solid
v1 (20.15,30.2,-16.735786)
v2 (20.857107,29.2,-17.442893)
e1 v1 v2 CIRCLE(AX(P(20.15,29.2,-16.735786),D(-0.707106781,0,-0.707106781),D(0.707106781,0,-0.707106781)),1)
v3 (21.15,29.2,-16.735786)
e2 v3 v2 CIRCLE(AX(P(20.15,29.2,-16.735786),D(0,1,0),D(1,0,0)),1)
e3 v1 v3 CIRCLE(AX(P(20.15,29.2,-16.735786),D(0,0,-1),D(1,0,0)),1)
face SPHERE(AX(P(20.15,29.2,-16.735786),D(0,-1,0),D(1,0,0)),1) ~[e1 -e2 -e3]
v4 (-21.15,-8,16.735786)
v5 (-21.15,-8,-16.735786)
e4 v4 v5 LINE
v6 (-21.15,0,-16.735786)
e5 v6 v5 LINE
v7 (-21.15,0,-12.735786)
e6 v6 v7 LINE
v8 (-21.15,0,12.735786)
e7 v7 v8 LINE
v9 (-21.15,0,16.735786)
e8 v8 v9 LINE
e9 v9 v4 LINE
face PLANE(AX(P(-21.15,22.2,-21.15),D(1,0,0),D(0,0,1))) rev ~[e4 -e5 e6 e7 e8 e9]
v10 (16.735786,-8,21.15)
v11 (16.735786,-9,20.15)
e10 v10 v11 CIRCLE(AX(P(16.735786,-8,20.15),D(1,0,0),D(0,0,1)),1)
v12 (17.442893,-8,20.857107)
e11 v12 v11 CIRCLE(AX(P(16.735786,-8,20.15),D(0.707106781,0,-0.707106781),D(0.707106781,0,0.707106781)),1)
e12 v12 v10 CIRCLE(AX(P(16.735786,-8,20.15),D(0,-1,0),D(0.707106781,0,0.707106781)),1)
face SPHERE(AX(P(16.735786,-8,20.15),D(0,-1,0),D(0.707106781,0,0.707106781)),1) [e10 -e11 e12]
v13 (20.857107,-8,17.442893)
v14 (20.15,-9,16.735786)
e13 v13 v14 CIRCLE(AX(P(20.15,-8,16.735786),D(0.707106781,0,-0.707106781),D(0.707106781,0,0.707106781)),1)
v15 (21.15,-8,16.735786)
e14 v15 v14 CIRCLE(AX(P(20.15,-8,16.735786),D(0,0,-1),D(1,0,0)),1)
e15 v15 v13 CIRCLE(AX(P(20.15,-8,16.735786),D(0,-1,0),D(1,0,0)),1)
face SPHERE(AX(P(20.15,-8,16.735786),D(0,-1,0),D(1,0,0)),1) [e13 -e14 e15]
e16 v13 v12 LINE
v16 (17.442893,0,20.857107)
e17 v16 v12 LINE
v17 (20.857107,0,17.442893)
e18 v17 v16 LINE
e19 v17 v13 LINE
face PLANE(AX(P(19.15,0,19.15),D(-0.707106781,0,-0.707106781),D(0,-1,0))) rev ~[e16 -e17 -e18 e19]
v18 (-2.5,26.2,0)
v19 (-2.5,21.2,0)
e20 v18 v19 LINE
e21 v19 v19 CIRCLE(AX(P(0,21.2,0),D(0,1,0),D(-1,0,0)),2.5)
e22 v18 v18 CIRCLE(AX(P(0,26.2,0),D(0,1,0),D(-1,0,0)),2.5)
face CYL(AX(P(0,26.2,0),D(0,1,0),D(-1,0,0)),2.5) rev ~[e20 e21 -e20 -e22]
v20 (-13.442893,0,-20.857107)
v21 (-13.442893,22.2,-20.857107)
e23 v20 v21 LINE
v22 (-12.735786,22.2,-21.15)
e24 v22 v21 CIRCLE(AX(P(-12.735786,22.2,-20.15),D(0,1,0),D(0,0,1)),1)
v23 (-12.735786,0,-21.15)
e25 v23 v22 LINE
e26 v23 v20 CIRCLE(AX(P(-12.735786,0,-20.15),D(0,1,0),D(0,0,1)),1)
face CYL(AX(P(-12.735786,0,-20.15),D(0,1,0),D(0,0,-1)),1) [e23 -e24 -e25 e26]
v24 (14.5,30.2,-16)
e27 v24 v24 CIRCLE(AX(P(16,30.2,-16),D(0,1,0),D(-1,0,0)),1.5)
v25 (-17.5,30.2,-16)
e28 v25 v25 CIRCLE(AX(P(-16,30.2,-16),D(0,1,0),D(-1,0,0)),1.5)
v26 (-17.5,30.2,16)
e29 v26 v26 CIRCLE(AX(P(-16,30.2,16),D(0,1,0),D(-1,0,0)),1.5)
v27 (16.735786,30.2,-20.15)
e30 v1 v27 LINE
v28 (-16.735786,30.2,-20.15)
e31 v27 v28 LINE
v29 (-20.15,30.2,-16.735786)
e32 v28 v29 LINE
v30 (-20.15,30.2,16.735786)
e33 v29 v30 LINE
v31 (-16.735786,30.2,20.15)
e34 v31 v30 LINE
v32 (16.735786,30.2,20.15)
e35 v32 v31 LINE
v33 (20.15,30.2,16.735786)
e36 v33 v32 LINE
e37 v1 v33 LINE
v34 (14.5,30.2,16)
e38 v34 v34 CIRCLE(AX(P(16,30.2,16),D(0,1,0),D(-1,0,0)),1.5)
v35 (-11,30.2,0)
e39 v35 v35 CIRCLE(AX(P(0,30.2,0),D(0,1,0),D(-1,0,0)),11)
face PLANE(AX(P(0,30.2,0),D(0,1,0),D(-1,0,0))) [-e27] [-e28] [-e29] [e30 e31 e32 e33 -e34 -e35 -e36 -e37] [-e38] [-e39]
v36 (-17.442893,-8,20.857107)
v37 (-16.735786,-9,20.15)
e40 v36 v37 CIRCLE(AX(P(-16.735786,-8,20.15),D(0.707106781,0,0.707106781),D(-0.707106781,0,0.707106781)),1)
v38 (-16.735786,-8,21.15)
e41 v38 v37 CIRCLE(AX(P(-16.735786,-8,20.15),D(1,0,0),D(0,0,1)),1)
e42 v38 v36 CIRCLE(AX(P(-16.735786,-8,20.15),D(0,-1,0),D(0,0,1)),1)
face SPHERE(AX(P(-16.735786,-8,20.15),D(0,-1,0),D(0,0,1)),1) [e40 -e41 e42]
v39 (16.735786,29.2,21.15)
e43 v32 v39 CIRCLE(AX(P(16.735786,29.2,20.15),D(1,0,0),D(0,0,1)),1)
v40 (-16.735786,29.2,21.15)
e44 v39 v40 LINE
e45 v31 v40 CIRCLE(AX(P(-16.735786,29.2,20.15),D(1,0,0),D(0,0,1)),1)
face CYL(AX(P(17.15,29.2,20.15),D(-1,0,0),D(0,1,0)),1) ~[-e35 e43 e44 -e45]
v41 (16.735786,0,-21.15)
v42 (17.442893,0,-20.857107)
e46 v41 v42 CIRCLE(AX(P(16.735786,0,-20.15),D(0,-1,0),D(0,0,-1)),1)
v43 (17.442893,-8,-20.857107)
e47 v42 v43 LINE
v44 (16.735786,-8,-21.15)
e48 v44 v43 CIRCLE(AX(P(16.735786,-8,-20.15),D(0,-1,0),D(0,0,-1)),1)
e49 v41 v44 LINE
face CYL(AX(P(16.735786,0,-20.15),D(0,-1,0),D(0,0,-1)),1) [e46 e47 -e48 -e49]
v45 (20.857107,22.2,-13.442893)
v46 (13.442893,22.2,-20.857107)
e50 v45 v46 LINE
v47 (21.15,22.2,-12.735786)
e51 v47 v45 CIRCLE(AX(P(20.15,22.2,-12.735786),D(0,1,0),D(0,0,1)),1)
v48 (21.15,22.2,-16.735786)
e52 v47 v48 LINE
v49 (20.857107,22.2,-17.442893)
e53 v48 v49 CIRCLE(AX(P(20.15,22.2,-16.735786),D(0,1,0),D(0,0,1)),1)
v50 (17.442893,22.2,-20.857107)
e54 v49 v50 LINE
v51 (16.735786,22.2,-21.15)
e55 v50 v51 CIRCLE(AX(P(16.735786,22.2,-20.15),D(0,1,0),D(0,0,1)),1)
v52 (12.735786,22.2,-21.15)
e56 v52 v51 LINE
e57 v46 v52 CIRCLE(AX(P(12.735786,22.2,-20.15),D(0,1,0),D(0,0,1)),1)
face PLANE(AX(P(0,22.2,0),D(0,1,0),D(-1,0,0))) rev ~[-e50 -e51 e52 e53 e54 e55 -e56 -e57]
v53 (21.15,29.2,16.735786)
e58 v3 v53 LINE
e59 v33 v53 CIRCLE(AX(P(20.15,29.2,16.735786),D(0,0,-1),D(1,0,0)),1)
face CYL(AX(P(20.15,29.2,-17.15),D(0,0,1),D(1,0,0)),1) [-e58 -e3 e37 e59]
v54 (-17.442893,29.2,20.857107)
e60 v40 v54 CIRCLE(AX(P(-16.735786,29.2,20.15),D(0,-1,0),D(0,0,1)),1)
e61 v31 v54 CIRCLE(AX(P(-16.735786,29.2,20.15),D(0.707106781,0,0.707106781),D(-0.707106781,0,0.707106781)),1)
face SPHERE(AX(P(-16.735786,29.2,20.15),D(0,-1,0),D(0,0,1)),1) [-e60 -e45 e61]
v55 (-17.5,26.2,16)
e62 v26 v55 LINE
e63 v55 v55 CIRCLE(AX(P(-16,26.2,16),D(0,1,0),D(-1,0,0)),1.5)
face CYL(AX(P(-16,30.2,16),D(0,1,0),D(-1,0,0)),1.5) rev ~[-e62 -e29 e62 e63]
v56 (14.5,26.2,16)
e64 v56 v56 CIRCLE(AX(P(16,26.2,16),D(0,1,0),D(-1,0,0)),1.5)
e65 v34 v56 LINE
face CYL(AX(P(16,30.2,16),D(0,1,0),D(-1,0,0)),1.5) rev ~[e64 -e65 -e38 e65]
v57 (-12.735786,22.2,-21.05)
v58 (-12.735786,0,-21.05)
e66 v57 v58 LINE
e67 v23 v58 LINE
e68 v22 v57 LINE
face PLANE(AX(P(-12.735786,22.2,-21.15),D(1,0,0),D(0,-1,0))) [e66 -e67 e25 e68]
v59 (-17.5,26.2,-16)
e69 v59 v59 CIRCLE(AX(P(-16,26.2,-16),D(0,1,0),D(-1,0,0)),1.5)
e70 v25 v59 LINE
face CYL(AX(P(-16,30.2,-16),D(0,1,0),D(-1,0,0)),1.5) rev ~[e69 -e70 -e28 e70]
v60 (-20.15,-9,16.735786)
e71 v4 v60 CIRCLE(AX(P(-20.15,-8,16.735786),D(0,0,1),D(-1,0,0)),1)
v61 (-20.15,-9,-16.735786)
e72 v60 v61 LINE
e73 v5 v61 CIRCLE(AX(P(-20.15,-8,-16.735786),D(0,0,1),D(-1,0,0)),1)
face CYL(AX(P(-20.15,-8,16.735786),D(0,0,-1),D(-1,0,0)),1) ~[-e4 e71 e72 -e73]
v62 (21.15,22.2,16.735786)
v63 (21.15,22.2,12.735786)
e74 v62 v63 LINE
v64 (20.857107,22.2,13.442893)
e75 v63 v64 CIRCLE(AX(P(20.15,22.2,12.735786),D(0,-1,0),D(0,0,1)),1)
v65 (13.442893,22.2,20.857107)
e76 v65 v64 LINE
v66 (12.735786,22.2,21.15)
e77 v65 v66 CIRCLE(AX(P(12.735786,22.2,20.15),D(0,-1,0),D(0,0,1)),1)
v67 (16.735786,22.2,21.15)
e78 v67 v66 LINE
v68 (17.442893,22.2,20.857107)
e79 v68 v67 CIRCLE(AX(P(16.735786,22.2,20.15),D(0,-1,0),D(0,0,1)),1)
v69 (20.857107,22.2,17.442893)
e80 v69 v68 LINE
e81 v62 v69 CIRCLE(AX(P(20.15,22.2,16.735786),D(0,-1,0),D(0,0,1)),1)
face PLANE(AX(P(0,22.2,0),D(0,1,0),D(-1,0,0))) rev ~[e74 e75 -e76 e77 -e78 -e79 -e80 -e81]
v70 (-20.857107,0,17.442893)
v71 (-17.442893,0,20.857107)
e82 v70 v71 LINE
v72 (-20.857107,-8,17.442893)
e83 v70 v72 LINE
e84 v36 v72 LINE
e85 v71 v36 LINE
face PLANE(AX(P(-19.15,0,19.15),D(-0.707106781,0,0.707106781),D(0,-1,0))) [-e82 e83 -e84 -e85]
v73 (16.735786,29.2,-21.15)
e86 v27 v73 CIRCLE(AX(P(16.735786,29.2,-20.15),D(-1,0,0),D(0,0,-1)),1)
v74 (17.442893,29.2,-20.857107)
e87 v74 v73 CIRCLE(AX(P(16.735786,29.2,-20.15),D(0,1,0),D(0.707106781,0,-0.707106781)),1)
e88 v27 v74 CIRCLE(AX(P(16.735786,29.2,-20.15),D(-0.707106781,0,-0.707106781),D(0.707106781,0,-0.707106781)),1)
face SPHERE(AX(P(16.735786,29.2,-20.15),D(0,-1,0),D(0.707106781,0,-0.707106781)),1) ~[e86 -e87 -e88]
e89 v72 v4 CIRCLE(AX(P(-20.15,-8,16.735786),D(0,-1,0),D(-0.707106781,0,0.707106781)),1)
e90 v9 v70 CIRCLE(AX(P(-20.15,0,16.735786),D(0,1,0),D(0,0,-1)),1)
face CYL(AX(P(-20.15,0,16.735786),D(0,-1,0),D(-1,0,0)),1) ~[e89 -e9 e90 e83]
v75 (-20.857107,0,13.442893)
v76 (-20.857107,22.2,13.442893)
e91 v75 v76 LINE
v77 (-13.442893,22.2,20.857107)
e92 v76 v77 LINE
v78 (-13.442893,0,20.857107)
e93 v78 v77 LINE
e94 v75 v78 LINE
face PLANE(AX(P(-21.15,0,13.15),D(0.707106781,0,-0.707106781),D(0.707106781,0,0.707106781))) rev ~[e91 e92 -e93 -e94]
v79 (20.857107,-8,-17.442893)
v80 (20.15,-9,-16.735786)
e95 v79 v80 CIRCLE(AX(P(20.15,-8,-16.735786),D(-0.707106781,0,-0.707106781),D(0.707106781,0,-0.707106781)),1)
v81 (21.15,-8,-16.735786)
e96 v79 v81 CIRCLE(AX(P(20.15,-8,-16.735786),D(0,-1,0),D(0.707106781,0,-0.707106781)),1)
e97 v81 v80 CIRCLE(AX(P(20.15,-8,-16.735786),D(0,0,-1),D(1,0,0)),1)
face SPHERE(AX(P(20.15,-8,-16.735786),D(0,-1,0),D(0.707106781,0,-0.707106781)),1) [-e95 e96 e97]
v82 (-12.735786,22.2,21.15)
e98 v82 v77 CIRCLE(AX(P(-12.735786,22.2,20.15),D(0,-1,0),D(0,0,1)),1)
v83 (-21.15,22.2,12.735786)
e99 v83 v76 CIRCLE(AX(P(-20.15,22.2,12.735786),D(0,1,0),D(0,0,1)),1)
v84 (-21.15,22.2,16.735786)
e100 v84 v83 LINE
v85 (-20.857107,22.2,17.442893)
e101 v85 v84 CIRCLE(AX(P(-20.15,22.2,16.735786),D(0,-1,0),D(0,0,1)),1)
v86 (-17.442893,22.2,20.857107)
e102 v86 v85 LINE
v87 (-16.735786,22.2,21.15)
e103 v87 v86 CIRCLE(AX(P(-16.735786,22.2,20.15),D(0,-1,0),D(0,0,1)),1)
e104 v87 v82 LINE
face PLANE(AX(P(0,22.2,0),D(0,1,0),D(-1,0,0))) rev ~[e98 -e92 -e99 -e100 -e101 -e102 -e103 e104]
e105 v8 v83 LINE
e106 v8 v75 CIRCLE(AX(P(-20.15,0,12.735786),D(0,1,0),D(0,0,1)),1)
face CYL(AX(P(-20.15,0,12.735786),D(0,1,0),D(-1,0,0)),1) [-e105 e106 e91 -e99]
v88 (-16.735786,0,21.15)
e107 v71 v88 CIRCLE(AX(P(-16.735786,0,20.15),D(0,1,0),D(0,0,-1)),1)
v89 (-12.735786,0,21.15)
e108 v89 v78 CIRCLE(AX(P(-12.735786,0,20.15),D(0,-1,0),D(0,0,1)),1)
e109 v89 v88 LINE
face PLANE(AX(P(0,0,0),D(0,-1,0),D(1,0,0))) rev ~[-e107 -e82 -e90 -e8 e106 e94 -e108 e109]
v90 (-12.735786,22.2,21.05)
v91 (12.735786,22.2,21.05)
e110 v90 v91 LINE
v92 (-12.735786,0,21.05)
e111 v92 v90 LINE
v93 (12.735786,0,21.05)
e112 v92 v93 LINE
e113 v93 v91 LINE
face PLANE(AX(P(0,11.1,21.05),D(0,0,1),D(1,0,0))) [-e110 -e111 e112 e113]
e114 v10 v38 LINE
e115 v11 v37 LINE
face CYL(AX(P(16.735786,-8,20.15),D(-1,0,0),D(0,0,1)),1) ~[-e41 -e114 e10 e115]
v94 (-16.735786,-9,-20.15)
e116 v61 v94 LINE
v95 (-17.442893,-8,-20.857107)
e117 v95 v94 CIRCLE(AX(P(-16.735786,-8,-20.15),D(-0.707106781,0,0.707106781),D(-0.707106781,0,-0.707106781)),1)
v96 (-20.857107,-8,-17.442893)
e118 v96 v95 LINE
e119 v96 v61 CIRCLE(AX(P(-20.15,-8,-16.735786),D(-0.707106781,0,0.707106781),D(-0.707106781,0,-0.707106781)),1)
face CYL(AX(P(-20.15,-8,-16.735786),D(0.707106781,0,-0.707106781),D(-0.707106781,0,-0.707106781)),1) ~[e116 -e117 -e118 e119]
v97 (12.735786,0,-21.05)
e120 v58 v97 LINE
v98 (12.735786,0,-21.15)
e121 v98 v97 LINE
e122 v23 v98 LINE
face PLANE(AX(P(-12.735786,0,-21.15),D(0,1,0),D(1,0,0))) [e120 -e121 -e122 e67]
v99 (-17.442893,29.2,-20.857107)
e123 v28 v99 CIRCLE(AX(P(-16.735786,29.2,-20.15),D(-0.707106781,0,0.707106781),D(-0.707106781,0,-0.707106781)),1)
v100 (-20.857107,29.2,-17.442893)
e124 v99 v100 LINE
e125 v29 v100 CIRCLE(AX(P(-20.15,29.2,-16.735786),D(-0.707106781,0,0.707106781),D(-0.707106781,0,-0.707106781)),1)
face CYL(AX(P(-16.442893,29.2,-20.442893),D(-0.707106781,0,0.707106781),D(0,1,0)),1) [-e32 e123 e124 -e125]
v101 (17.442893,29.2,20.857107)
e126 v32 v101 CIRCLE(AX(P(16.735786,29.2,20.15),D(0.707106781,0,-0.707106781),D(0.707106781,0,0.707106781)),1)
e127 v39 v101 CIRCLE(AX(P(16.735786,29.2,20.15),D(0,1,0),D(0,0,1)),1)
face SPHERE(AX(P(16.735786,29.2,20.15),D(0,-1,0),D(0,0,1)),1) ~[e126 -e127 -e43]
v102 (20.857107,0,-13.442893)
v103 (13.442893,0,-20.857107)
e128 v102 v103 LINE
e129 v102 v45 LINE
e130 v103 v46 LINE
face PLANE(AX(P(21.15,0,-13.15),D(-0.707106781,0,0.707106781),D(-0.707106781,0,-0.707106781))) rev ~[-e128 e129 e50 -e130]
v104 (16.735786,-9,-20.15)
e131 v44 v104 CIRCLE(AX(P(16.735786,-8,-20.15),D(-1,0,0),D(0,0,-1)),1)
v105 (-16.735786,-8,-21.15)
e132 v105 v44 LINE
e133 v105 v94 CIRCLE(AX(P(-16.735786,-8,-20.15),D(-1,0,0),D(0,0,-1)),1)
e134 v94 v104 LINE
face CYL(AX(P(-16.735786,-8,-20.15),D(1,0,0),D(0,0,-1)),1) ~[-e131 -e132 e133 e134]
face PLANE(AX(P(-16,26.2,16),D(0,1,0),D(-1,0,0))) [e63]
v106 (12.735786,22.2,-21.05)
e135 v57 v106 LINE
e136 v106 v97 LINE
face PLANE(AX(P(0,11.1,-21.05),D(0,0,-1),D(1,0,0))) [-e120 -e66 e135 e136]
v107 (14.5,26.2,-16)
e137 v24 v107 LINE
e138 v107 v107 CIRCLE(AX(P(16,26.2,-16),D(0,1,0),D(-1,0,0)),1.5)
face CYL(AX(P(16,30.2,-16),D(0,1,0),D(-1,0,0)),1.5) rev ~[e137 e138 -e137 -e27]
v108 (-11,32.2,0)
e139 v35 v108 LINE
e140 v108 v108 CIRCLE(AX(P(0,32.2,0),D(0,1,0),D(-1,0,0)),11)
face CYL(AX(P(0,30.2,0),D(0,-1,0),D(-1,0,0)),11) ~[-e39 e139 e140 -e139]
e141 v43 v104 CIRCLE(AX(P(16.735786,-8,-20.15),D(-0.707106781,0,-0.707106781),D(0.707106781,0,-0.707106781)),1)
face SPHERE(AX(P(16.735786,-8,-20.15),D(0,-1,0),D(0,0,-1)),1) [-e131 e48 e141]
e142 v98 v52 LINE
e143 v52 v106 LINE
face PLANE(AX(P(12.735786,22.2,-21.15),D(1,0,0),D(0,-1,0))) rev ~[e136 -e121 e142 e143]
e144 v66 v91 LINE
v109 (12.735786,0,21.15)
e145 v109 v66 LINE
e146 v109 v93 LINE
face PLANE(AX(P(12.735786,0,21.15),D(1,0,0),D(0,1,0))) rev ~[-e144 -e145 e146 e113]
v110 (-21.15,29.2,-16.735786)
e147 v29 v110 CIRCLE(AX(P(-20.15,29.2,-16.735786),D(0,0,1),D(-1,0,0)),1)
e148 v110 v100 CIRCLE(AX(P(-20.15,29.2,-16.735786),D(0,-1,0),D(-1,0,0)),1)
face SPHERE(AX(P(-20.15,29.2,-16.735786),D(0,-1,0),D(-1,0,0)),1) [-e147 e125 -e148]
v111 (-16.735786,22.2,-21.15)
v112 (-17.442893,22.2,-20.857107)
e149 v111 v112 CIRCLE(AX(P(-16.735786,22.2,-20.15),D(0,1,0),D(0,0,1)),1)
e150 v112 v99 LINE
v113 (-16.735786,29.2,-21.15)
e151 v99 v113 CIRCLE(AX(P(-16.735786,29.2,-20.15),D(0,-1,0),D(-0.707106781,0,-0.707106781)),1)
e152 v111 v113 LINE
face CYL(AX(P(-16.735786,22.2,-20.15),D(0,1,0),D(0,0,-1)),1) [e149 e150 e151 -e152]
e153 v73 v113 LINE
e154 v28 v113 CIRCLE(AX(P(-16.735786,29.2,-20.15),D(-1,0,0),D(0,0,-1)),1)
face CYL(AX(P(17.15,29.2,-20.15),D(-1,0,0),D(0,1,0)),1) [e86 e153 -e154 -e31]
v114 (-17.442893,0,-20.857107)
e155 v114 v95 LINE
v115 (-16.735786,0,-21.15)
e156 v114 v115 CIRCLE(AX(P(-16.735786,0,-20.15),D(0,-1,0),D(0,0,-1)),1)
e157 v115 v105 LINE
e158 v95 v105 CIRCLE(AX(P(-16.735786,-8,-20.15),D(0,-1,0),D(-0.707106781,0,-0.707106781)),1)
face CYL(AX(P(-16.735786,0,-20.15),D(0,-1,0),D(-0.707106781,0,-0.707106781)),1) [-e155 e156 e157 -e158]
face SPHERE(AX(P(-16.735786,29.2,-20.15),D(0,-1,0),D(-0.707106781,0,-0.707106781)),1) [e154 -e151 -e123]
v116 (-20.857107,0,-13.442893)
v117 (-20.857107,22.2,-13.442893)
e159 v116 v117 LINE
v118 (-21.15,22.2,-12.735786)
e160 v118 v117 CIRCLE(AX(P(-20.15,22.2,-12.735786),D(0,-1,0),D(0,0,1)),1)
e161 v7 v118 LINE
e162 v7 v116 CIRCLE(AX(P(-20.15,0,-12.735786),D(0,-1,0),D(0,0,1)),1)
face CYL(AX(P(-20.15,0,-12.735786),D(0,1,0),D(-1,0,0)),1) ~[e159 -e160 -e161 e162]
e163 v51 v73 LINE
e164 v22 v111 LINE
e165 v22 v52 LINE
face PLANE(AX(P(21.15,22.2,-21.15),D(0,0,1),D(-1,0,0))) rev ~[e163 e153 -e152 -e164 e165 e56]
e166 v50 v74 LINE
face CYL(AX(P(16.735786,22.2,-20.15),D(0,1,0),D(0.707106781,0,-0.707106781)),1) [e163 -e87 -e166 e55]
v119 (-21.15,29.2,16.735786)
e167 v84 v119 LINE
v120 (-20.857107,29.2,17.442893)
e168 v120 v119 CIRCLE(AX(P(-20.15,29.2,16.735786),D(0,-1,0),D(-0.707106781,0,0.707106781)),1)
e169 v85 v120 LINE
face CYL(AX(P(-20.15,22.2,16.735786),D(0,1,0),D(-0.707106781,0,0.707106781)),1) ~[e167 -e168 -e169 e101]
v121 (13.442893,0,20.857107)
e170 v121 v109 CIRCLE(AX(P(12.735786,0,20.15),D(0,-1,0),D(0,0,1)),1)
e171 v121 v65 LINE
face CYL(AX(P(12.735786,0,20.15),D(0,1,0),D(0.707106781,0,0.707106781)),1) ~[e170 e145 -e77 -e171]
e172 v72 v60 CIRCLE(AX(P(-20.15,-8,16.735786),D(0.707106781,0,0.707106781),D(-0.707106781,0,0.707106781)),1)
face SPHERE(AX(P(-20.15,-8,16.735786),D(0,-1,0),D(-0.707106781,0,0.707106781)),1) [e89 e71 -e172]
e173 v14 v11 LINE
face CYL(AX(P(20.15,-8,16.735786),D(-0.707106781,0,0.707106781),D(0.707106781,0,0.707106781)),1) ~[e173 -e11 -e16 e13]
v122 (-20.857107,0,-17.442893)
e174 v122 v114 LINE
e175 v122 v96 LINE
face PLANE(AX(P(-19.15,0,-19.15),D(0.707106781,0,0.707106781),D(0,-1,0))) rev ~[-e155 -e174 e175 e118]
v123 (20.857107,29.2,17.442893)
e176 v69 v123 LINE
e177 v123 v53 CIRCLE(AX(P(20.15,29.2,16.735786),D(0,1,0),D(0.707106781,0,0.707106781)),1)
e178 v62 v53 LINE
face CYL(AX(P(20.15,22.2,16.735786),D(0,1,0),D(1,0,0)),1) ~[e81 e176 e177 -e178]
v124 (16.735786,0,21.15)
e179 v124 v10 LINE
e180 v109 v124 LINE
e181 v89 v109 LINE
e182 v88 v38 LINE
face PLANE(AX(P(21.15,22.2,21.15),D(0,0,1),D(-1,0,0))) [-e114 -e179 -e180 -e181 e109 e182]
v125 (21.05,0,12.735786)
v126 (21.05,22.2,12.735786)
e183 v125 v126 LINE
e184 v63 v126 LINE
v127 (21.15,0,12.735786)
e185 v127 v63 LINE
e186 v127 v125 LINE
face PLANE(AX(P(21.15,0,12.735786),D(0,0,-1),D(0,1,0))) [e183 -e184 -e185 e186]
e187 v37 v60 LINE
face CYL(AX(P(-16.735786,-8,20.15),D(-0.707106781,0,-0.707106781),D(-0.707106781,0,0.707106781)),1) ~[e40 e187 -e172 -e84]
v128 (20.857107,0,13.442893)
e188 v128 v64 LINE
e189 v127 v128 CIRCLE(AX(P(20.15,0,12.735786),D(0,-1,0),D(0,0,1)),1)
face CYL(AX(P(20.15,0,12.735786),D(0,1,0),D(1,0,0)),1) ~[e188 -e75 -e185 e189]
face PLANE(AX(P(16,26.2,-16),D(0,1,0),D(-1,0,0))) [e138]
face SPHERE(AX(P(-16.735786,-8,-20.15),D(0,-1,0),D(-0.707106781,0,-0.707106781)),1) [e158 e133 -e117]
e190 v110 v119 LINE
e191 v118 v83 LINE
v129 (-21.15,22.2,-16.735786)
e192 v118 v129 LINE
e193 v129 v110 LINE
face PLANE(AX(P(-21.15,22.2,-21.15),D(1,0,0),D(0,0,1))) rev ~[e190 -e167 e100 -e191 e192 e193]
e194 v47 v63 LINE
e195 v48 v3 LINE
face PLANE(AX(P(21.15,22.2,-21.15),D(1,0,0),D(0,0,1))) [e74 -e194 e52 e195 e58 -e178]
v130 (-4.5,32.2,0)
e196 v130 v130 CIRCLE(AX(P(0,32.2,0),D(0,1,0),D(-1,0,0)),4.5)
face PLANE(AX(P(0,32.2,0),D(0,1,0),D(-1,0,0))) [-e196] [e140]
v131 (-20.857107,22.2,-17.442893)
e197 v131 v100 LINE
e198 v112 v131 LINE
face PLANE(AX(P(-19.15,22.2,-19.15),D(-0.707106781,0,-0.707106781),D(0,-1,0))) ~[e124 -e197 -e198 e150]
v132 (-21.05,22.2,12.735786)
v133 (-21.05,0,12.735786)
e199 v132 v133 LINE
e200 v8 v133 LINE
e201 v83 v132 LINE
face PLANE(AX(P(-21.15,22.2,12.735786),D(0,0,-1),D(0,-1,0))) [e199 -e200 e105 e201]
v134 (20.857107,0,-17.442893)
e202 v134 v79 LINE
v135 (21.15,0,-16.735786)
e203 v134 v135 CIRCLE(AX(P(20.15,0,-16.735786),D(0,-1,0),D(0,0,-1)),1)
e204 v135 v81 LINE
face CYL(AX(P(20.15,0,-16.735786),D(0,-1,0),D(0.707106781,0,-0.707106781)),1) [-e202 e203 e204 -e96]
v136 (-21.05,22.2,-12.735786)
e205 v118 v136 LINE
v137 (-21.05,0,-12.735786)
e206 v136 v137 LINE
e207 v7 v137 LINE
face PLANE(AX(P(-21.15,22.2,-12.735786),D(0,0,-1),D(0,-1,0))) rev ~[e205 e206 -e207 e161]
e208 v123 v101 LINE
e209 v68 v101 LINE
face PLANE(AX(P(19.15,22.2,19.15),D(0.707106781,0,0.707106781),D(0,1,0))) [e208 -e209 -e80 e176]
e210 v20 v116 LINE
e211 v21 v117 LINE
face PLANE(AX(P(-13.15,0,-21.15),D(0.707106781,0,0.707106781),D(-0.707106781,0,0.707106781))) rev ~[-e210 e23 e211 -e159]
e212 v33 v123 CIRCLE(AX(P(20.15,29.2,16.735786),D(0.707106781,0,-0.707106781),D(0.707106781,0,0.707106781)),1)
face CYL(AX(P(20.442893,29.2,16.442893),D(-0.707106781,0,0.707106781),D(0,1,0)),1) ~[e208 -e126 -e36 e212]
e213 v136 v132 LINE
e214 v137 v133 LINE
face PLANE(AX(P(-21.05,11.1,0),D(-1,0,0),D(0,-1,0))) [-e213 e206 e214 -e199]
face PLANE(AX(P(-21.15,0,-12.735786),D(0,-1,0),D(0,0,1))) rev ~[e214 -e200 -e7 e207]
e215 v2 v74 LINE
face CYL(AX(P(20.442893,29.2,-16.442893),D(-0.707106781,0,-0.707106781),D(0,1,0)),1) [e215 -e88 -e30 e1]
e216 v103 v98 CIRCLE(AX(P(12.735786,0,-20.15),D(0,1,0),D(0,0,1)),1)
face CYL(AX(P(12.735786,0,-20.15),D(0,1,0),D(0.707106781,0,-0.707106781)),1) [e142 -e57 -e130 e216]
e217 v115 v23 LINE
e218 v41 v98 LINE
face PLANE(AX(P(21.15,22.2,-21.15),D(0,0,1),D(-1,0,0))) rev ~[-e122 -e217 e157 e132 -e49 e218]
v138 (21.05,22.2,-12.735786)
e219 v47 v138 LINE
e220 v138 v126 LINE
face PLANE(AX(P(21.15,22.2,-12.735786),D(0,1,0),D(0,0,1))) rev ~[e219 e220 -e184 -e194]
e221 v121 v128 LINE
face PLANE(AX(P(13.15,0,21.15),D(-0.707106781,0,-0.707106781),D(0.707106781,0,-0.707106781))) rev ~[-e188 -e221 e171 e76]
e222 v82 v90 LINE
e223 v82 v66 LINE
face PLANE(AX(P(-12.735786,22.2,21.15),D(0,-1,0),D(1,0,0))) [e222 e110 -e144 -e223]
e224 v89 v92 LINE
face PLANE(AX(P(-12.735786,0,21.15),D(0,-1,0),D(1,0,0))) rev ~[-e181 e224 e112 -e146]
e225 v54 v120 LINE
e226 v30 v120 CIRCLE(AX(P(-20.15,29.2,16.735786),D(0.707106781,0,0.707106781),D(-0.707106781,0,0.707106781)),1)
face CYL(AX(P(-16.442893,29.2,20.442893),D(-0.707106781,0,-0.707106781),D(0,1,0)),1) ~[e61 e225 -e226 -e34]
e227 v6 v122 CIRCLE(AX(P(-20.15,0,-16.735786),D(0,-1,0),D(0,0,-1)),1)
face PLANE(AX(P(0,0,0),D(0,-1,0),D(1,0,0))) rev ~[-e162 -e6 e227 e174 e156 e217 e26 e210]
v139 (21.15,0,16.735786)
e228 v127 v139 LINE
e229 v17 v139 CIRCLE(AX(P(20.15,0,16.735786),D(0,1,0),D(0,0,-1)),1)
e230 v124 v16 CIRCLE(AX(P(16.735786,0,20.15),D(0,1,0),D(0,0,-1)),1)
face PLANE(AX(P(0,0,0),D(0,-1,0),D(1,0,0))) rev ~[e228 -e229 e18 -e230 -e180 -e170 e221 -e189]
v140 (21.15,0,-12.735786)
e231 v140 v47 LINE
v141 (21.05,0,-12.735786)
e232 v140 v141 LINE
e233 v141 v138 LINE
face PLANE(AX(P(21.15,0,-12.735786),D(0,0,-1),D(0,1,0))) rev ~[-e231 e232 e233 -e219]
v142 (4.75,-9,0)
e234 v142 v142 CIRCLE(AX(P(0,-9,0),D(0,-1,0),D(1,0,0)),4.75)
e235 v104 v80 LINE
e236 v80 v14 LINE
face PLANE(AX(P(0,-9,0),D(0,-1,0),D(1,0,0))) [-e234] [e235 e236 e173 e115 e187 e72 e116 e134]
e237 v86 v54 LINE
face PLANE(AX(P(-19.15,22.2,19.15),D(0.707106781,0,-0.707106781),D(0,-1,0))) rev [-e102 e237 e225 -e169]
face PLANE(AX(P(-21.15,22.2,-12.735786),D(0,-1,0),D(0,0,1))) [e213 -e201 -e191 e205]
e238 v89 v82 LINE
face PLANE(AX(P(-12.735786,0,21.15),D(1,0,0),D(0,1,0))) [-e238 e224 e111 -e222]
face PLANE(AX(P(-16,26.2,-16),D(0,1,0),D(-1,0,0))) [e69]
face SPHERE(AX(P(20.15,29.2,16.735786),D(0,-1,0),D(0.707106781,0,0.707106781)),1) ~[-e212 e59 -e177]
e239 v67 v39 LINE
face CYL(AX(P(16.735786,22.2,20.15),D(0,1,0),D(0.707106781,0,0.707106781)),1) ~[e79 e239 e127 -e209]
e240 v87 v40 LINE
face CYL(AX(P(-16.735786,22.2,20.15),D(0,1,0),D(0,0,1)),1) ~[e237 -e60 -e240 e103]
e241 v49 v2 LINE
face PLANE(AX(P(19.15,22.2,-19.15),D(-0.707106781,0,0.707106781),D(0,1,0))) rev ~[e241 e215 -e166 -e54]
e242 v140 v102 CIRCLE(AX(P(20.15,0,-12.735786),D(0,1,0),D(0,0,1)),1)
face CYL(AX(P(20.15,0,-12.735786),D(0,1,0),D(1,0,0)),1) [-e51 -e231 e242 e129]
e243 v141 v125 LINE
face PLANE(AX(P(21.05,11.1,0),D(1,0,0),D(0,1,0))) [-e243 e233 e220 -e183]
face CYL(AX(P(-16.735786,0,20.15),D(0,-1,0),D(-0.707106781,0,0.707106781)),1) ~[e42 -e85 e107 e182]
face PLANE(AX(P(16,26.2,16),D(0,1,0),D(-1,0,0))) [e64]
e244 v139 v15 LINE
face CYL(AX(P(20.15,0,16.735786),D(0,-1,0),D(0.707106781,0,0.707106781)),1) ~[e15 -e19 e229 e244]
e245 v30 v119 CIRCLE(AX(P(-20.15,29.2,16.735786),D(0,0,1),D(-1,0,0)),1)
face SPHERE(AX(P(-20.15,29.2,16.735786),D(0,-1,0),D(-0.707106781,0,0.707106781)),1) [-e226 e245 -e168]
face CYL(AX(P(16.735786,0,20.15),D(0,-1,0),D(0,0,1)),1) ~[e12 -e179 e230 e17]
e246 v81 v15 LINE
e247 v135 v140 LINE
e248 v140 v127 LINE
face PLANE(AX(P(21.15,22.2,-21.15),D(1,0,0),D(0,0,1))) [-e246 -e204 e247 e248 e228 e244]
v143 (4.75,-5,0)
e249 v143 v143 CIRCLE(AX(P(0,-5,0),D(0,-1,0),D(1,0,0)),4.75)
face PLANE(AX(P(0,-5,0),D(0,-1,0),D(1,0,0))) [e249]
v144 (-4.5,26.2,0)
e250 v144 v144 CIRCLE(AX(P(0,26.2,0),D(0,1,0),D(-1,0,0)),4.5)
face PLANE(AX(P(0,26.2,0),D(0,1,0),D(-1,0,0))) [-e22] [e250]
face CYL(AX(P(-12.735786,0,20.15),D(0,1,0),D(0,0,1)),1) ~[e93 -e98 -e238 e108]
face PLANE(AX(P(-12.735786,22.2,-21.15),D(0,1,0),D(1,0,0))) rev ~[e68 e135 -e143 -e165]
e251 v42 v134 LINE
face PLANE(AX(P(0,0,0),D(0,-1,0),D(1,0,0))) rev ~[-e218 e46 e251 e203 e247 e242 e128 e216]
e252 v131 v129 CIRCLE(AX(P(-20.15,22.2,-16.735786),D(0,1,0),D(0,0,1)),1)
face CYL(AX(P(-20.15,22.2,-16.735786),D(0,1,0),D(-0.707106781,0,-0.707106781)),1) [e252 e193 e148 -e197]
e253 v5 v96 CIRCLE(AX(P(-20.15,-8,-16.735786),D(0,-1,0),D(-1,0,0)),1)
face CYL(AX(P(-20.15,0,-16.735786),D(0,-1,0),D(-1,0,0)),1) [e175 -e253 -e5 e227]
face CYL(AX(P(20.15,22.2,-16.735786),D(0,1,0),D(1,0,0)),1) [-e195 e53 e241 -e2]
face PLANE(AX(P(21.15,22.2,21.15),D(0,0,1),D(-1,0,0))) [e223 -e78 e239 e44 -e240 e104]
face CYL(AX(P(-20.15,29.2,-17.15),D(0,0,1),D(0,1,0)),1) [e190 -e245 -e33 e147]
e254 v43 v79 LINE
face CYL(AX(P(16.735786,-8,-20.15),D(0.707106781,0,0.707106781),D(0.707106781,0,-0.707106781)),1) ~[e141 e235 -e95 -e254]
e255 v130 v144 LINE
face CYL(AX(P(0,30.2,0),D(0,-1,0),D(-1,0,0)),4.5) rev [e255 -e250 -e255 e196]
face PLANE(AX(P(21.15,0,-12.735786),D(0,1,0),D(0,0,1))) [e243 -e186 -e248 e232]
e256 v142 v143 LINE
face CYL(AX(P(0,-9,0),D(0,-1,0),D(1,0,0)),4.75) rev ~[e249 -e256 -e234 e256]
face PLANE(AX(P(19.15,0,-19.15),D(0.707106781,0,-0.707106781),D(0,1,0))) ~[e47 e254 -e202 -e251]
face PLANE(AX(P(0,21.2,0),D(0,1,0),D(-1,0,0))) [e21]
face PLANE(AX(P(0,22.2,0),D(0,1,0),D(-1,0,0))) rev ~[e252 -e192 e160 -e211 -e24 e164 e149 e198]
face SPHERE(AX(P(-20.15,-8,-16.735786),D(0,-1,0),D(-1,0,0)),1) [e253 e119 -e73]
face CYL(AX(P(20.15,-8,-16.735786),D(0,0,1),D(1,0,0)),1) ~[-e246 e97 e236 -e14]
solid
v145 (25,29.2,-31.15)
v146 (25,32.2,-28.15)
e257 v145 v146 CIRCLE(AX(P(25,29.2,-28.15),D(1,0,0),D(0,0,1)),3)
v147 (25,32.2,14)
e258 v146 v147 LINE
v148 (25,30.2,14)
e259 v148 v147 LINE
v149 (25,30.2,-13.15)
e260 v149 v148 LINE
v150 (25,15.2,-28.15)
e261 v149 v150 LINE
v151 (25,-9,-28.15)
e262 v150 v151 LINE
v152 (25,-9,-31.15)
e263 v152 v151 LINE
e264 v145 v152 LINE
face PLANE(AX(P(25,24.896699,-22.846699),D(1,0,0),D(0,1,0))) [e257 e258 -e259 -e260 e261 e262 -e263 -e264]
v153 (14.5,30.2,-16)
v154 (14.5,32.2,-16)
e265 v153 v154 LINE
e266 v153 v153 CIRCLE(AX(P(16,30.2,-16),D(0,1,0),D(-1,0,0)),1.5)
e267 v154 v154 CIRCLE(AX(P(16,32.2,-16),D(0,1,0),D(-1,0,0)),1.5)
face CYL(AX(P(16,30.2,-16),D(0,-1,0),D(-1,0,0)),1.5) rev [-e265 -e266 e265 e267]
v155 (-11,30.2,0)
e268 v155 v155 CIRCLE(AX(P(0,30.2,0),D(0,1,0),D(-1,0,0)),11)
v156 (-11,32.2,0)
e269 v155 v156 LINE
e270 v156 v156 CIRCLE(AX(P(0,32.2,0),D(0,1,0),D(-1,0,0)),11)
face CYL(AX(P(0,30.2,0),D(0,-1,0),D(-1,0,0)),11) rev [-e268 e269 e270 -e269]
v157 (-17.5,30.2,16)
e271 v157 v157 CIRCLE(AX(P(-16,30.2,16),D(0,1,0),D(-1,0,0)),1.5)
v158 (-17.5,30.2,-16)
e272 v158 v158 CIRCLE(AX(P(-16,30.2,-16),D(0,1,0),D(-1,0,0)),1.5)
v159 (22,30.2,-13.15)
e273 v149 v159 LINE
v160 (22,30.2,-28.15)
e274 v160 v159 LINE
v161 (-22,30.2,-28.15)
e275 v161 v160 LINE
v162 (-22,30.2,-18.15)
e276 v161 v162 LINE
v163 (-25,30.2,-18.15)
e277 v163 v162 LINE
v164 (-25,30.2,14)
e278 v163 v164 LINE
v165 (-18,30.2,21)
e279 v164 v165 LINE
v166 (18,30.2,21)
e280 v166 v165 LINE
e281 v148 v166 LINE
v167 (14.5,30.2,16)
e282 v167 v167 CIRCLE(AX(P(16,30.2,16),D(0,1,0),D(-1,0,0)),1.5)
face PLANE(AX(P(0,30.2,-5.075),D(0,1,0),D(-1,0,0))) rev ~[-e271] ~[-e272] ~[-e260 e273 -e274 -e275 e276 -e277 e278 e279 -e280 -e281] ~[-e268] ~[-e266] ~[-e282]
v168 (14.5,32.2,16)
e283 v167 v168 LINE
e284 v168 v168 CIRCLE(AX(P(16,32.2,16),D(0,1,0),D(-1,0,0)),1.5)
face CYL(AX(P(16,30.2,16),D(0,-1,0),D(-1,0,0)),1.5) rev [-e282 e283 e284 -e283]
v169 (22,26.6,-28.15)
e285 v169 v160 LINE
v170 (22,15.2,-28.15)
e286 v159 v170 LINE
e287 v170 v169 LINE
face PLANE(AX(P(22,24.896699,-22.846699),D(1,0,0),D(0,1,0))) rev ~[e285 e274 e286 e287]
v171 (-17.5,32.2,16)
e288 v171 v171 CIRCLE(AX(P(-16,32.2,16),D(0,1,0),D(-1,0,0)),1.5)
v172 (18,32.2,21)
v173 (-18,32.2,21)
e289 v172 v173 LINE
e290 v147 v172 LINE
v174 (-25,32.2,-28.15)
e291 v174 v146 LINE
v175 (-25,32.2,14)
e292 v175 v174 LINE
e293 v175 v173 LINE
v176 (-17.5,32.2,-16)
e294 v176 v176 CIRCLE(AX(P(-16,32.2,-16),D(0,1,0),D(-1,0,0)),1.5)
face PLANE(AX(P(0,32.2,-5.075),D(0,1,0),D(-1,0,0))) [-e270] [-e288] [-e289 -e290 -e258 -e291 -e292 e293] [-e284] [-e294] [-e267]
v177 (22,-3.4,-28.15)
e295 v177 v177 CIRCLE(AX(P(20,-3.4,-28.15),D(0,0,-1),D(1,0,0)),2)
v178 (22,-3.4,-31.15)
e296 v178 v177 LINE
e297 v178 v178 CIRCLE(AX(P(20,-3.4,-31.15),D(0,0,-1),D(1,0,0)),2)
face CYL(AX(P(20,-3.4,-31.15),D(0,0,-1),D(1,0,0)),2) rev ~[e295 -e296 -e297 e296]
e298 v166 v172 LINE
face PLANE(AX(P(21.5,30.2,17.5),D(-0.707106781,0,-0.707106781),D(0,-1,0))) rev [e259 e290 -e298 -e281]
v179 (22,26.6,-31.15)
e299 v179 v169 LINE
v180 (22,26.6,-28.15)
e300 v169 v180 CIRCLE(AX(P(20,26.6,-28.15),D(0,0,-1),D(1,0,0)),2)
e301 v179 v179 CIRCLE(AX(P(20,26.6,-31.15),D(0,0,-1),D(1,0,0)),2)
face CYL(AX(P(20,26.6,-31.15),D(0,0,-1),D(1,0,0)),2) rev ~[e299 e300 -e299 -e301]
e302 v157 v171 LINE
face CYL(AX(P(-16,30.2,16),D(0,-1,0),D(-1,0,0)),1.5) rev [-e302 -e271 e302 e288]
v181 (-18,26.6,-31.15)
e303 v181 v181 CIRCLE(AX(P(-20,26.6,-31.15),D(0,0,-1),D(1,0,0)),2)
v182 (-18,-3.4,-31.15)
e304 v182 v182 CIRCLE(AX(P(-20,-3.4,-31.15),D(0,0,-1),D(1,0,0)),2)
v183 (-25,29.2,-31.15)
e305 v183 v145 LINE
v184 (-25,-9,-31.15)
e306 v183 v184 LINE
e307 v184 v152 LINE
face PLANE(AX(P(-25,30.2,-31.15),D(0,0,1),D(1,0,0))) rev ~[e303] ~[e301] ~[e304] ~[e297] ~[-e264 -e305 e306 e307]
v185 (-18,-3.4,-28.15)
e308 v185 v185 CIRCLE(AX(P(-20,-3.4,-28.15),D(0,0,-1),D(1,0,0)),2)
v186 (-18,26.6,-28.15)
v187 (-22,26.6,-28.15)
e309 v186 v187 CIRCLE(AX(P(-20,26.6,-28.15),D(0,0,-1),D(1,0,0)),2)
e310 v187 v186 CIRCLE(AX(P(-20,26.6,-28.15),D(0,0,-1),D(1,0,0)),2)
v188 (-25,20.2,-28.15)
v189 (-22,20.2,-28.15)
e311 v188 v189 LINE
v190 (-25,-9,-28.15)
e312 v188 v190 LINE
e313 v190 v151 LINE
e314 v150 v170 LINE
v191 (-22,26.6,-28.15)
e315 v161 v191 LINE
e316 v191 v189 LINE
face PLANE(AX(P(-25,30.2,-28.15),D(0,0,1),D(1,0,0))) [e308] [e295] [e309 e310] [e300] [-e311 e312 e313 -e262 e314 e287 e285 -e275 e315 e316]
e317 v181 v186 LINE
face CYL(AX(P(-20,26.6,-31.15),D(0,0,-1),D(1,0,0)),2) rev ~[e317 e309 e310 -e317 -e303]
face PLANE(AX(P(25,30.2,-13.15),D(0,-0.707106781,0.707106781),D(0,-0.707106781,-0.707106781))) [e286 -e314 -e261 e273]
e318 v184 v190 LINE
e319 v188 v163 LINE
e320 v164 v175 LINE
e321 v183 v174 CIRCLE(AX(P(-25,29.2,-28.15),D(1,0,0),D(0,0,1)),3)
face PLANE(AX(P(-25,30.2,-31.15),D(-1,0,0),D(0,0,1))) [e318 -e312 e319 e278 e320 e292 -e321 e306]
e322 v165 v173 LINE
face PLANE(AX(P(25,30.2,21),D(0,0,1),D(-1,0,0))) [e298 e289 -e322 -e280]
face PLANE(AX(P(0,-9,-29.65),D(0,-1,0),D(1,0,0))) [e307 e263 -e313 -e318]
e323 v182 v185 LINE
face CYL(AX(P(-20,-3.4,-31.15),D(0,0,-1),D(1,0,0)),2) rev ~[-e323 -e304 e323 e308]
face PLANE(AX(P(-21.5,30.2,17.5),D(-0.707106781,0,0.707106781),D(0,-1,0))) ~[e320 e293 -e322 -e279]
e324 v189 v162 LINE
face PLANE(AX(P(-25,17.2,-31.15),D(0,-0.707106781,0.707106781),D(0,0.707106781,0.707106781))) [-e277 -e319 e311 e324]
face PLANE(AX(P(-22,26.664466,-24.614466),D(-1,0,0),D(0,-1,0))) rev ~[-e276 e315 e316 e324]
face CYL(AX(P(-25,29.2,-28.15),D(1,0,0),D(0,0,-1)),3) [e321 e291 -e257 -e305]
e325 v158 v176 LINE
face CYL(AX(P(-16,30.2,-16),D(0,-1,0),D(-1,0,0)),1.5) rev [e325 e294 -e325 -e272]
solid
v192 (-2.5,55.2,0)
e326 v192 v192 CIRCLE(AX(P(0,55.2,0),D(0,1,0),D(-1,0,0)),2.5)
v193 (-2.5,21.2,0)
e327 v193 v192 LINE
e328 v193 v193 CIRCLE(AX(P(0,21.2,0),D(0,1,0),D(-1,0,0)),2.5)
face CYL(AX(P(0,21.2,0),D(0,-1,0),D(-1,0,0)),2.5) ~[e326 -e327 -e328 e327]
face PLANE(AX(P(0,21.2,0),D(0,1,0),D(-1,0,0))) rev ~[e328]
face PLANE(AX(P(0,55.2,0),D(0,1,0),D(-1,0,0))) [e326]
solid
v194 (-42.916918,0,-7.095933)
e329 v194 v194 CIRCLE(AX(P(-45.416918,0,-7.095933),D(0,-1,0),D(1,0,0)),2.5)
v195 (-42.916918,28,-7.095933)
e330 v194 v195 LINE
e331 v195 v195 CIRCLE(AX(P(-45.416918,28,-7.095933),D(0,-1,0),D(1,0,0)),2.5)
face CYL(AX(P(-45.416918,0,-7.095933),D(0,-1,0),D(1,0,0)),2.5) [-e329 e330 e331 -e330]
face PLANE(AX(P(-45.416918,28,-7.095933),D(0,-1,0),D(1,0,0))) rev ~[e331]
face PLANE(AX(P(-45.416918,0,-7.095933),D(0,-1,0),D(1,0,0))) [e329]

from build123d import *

# Parameters (mm, degrees)
F0_W      = 42.3
F0_H      = 42.3
F1_DEPTH  = 9
F3_SIZE   = 4
F4_R      = 1
F5_DEPTH  = 22.2
F6_W      = 42.3
F6_H      = 42.3
F7_DEPTH  = 8
F8_SIZE   = 4
F9_R      = 1
F10_W     = 22.2
F10_H     = 25.4715728753
F11_DEPTH = 0.1
F12_W     = 25.4715728753
F12_H     = 22.2
F13_DEPTH = 0.1
F14_W     = 22.2
F14_H     = 25.4715728753
F15_DEPTH = 0.1
F16_W     = 25.4715728753
F16_H     = 22.2
F17_DEPTH = 0.1
F18_R     = 11
F18_R_2   = 4.5
F19_DEPTH = 2
F20_DEPTH = 4
F21_R     = 2.5
F22_DEPTH = 5
F23_R     = 1.5
F24_DEPTH = 4
F25_R     = 2.5
F26_DEPTH = 34
F27_W     = 50
F27_H     = 52.15
F27_R     = 1.5
F27_R_2   = 11
F28_DEPTH = 2
F29_W     = 50
F29_H     = 3
F30_DEPTH = 39.2
F31_SIZE  = 7
F33_DEPTH = 3
F35_DEPTH = 3
F36_R     = 2
F37_DEPTH = 5
F38_R     = 3
F39_R     = 4.75
F40_DEPTH = 4
F41_R     = 2.5
F42_DEPTH = 28


with BuildPart() as f1:
    # F0 (on Front) → F1 (new body)
    with BuildSketch(Plane.XZ):
        Rectangle(F0_W, F0_H)
    extrude(amount=F1_DEPTH)

    # F3
    f3_edges = [f1.edges().sort_by_distance(p)[0] for p in [
        (21.15, -4.5, 21.15),
        (-21.15, -4.5, 21.15),
        (21.15, -4.5, -21.15),
        (-21.15, -4.5, -21.15),
    ]]
    chamfer(f3_edges, length=F3_SIZE)

    # F4
    f4_edges = [f1.edges().sort_by_distance(p)[0] for p in [
        (17.15, -4.5, 21.15),
        (21.15, -4.5, 17.15),
        (-17.15, -4.5, 21.15),
        (21.15, -4.5, -17.15),
        (17.15, -4.5, -21.15),
        (-21.15, -4.5, 17.15),
        (-21.15, -4.5, -17.15),
        (-17.15, -4.5, -21.15),
    ]]
    fillet(f4_edges, radius=F4_R)

    # F2 (on face) → F5 (join)
    with BuildSketch(Plane(origin=(0, 0, 0), x_dir=(-1, 0, 0), z_dir=(0, 1, 0))):
        Polygon((13.15, 21.15), (-13.15, 21.15), (-21.15, 13.15), (-21.15, -13.15), (-13.15, -21.15), (13.15, -21.15), (21.15, -13.15), (21.15, 13.15), align=None)
    extrude(amount=F5_DEPTH)

    # F6 (on face) → F7 (join)
    with BuildSketch(Plane(origin=(0, 22.2, 0), x_dir=(-1, 0, 0), z_dir=(0, 1, 0))):
        Rectangle(F6_W, F6_H)
    extrude(amount=F7_DEPTH)

    # F8
    f8_edges = [f1.edges().sort_by_distance(p)[0] for p in [
        (21.15, 26.2, 21.15),
        (-21.15, 26.2, 21.15),
        (21.15, 26.2, -21.15),
        (-21.15, 26.2, -21.15),
    ]]
    chamfer(f8_edges, length=F8_SIZE)

    # F9
    f9_edges = [f1.edges().sort_by_distance(p)[0] for p in [
        (21.15, -9, 0),
        (21.15, 11.1, 13.15),
        (13.15, 11.1, 21.15),
        (21.15, 26.2, 17.15),
        (17.15, 26.2, 21.15),
        (-17.15, 26.2, 21.15),
        (-13.15, 11.1, 21.15),
        (-21.15, 26.2, 17.15),
        (-21.15, 11.1, 13.15),
        (-21.15, 11.1, -13.15),
        (-21.15, 26.2, -17.15),
        (-17.15, 26.2, -21.15),
        (-13.15, 11.1, -21.15),
        (13.15, 11.1, -21.15),
        (17.15, 26.2, -21.15),
        (21.15, 26.2, -17.15),
        (21.15, 11.1, -13.15),
        (0, 30.2, 21.15),
        (-19.15, 30.2, 19.15),
        (19.15, 30.2, 19.15),
        (-21.15, 30.2, 0),
        (21.15, 30.2, 0),
        (-19.15, 30.2, -19.15),
        (19.15, 30.2, -19.15),
        (0, 30.2, -21.15),
    ]]
    fillet(f9_edges, radius=F9_R)

    # F10 (on face) → F11 (cut)
    with BuildSketch(Plane.YZ.offset(21.15)):
        with Locations((11.1, 0)):
            Rectangle(F10_W, F10_H)
    extrude(amount=-F11_DEPTH, mode=Mode.SUBTRACT)

    # F12 (on face) → F13 (cut)
    with BuildSketch(Plane.XY.offset(21.15)):
        with Locations((0, 11.1)):
            Rectangle(F12_W, F12_H)
    extrude(amount=-F13_DEPTH, mode=Mode.SUBTRACT)

    # F14 (on face) → F15 (cut)
    with BuildSketch(Plane(origin=(-21.15, 0, 0), x_dir=(0, -1, 0), z_dir=(-1, 0, 0))):
        with Locations((-11.1, 0)):
            Rectangle(F14_W, F14_H)
    extrude(amount=-F15_DEPTH, mode=Mode.SUBTRACT)

    # F16 (on face) → F17 (cut)
    with BuildSketch(Plane(origin=(0, 0, -21.15), x_dir=(1, 0, 0), z_dir=(0, 0, -1))):
        with Locations((0, -11.1)):
            Rectangle(F16_W, F16_H)
    extrude(amount=-F17_DEPTH, mode=Mode.SUBTRACT)

    # F18 (on face) → F19 (join)
    with BuildSketch(Plane(origin=(0, 30.2, 0), x_dir=(-1, 0, 0), z_dir=(0, 1, 0))):
        Circle(F18_R)
        Circle(F18_R_2, mode=Mode.SUBTRACT)
    extrude(amount=F19_DEPTH)

    # F20 (cut): a face of the model
    f20_faces = [f1.faces().sort_by_distance(p)[0] for p in [
        (0, 30.2, 0),
    ]]
    extrude(f20_faces, amount=-F20_DEPTH, mode=Mode.SUBTRACT)

    # F21 (on face) → F22 (cut)
    with BuildSketch(Plane(origin=(0, 26.2, 0), x_dir=(-1, 0, 0), z_dir=(0, 1, 0))):
        Circle(F21_R)
    extrude(amount=-F22_DEPTH, mode=Mode.SUBTRACT)

    # F23 (on face) → F24 (cut)
    with BuildSketch(Plane(origin=(0, 30.2, 0), x_dir=(-1, 0, 0), z_dir=(0, 1, 0))):
        with Locations((-16, 16)):
            Circle(F23_R)
        with Locations((16, 16)):
            Circle(F23_R)
        with Locations((-16, -16)):
            Circle(F23_R)
        with Locations((16, -16)):
            Circle(F23_R)
    extrude(amount=-F24_DEPTH, mode=Mode.SUBTRACT)

    # F39 (on face) → F40 (cut)
    with BuildSketch(Plane.XZ.offset(9)):
        Circle(F39_R)
    extrude(amount=-F40_DEPTH, mode=Mode.SUBTRACT)


with BuildPart() as f26:
    # F25 (on face) → F26 (new body)
    with BuildSketch(Plane(origin=(0, 21.2, 0), x_dir=(-1, 0, 0), z_dir=(0, 1, 0))):
        Circle(F25_R)
    extrude(amount=F26_DEPTH)


with BuildPart() as f28:
    # F27 (on face) → F28 (new body)
    with BuildSketch(Plane(origin=(0, 30.2, 0), x_dir=(-1, 0, 0), z_dir=(0, 1, 0))):
        with Locations((0, -5.075)):
            Rectangle(F27_W, F27_H)
        Polygon((-16.7357864376, 20.15), (16.7357864376, 20.15), (20.15, 16.7357864376), (20.15, -16.7357864376), (16.7357864376, -20.15), (-16.7357864376, -20.15), (-20.15, -16.7357864376), (-20.15, 16.7357864376), align=None, mode=Mode.SUBTRACT)
        Polygon((20.15, 16.7357864376), (16.7357864376, 20.15), (-16.7357864376, 20.15), (-20.15, 16.7357864376), (-20.15, -16.7357864376), (-16.7357864376, -20.15), (16.7357864376, -20.15), (20.15, -16.7357864376), align=None)
        with Locations((-16, -16)):
            Circle(F27_R, mode=Mode.SUBTRACT)
        with Locations((16, -16)):
            Circle(F27_R, mode=Mode.SUBTRACT)
        with Locations((-16, 16)):
            Circle(F27_R, mode=Mode.SUBTRACT)
        Circle(F27_R_2, mode=Mode.SUBTRACT)
        with Locations((16, 16)):
            Circle(F27_R, mode=Mode.SUBTRACT)
    extrude(amount=F28_DEPTH)

    # F29 (on face) → F30 (join)
    with BuildSketch(Plane.XZ.offset(-30.2)):
        with Locations((0, -29.65)):
            Rectangle(F29_W, F29_H)
    extrude(amount=F30_DEPTH)

    # F31
    f31_edges = [f28.edges().sort_by_distance(p)[0] for p in [
        (25, 31.2, 21),
        (-25, 31.2, 21),
    ]]
    chamfer(f31_edges, length=F31_SIZE)

    # F32 (on face) → F33 (join)
    with BuildSketch(Plane.YZ.offset(25)):
        Polygon((30.2, -28.15), (30.2, -13.15), (15.2, -28.15), align=None)
    extrude(amount=-F33_DEPTH)

    # F34 (on face) → F35 (join)
    with BuildSketch(Plane(origin=(-25, 0, 0), x_dir=(0, -1, 0), z_dir=(-1, 0, 0))):
        Polygon((-30.2, -28.15), (-20.2, -28.15), (-30.2, -18.15), align=None)
        Polygon((-32.2, -16.15), (-32.2, -31.15), (-17.2, -31.15), (-20.2, -28.15), (-30.2, -28.15), (-30.2, -18.15), align=None)
    extrude(amount=-F35_DEPTH)

    # F36 (on face) → F37 (cut)
    with BuildSketch(Plane(origin=(0, 0, -31.15), x_dir=(1, 0, 0), z_dir=(0, 0, -1))):
        with Locations((-20, 3.4)):
            Circle(F36_R)
        with Locations((-20, -26.6)):
            Circle(F36_R)
        with Locations((20, -26.6)):
            Circle(F36_R)
        with Locations((20, 3.4)):
            Circle(F36_R)
    extrude(amount=-F37_DEPTH, mode=Mode.SUBTRACT)

    # F38
    f38_edges = [f28.edges().sort_by_distance(p)[0] for p in [
        (0, 32.2, -31.15),
    ]]
    fillet(f38_edges, radius=F38_R)


with BuildPart() as f42:
    # F41 (on Front) → F42 (new body)
    with BuildSketch(Plane.XZ):
        with Locations((-45.4169176519, -7.0959334262)):
            Circle(F41_R)
    extrude(amount=-F42_DEPTH)


solid = Compound([f1.part, f26.part, f28.part, f42.part])
